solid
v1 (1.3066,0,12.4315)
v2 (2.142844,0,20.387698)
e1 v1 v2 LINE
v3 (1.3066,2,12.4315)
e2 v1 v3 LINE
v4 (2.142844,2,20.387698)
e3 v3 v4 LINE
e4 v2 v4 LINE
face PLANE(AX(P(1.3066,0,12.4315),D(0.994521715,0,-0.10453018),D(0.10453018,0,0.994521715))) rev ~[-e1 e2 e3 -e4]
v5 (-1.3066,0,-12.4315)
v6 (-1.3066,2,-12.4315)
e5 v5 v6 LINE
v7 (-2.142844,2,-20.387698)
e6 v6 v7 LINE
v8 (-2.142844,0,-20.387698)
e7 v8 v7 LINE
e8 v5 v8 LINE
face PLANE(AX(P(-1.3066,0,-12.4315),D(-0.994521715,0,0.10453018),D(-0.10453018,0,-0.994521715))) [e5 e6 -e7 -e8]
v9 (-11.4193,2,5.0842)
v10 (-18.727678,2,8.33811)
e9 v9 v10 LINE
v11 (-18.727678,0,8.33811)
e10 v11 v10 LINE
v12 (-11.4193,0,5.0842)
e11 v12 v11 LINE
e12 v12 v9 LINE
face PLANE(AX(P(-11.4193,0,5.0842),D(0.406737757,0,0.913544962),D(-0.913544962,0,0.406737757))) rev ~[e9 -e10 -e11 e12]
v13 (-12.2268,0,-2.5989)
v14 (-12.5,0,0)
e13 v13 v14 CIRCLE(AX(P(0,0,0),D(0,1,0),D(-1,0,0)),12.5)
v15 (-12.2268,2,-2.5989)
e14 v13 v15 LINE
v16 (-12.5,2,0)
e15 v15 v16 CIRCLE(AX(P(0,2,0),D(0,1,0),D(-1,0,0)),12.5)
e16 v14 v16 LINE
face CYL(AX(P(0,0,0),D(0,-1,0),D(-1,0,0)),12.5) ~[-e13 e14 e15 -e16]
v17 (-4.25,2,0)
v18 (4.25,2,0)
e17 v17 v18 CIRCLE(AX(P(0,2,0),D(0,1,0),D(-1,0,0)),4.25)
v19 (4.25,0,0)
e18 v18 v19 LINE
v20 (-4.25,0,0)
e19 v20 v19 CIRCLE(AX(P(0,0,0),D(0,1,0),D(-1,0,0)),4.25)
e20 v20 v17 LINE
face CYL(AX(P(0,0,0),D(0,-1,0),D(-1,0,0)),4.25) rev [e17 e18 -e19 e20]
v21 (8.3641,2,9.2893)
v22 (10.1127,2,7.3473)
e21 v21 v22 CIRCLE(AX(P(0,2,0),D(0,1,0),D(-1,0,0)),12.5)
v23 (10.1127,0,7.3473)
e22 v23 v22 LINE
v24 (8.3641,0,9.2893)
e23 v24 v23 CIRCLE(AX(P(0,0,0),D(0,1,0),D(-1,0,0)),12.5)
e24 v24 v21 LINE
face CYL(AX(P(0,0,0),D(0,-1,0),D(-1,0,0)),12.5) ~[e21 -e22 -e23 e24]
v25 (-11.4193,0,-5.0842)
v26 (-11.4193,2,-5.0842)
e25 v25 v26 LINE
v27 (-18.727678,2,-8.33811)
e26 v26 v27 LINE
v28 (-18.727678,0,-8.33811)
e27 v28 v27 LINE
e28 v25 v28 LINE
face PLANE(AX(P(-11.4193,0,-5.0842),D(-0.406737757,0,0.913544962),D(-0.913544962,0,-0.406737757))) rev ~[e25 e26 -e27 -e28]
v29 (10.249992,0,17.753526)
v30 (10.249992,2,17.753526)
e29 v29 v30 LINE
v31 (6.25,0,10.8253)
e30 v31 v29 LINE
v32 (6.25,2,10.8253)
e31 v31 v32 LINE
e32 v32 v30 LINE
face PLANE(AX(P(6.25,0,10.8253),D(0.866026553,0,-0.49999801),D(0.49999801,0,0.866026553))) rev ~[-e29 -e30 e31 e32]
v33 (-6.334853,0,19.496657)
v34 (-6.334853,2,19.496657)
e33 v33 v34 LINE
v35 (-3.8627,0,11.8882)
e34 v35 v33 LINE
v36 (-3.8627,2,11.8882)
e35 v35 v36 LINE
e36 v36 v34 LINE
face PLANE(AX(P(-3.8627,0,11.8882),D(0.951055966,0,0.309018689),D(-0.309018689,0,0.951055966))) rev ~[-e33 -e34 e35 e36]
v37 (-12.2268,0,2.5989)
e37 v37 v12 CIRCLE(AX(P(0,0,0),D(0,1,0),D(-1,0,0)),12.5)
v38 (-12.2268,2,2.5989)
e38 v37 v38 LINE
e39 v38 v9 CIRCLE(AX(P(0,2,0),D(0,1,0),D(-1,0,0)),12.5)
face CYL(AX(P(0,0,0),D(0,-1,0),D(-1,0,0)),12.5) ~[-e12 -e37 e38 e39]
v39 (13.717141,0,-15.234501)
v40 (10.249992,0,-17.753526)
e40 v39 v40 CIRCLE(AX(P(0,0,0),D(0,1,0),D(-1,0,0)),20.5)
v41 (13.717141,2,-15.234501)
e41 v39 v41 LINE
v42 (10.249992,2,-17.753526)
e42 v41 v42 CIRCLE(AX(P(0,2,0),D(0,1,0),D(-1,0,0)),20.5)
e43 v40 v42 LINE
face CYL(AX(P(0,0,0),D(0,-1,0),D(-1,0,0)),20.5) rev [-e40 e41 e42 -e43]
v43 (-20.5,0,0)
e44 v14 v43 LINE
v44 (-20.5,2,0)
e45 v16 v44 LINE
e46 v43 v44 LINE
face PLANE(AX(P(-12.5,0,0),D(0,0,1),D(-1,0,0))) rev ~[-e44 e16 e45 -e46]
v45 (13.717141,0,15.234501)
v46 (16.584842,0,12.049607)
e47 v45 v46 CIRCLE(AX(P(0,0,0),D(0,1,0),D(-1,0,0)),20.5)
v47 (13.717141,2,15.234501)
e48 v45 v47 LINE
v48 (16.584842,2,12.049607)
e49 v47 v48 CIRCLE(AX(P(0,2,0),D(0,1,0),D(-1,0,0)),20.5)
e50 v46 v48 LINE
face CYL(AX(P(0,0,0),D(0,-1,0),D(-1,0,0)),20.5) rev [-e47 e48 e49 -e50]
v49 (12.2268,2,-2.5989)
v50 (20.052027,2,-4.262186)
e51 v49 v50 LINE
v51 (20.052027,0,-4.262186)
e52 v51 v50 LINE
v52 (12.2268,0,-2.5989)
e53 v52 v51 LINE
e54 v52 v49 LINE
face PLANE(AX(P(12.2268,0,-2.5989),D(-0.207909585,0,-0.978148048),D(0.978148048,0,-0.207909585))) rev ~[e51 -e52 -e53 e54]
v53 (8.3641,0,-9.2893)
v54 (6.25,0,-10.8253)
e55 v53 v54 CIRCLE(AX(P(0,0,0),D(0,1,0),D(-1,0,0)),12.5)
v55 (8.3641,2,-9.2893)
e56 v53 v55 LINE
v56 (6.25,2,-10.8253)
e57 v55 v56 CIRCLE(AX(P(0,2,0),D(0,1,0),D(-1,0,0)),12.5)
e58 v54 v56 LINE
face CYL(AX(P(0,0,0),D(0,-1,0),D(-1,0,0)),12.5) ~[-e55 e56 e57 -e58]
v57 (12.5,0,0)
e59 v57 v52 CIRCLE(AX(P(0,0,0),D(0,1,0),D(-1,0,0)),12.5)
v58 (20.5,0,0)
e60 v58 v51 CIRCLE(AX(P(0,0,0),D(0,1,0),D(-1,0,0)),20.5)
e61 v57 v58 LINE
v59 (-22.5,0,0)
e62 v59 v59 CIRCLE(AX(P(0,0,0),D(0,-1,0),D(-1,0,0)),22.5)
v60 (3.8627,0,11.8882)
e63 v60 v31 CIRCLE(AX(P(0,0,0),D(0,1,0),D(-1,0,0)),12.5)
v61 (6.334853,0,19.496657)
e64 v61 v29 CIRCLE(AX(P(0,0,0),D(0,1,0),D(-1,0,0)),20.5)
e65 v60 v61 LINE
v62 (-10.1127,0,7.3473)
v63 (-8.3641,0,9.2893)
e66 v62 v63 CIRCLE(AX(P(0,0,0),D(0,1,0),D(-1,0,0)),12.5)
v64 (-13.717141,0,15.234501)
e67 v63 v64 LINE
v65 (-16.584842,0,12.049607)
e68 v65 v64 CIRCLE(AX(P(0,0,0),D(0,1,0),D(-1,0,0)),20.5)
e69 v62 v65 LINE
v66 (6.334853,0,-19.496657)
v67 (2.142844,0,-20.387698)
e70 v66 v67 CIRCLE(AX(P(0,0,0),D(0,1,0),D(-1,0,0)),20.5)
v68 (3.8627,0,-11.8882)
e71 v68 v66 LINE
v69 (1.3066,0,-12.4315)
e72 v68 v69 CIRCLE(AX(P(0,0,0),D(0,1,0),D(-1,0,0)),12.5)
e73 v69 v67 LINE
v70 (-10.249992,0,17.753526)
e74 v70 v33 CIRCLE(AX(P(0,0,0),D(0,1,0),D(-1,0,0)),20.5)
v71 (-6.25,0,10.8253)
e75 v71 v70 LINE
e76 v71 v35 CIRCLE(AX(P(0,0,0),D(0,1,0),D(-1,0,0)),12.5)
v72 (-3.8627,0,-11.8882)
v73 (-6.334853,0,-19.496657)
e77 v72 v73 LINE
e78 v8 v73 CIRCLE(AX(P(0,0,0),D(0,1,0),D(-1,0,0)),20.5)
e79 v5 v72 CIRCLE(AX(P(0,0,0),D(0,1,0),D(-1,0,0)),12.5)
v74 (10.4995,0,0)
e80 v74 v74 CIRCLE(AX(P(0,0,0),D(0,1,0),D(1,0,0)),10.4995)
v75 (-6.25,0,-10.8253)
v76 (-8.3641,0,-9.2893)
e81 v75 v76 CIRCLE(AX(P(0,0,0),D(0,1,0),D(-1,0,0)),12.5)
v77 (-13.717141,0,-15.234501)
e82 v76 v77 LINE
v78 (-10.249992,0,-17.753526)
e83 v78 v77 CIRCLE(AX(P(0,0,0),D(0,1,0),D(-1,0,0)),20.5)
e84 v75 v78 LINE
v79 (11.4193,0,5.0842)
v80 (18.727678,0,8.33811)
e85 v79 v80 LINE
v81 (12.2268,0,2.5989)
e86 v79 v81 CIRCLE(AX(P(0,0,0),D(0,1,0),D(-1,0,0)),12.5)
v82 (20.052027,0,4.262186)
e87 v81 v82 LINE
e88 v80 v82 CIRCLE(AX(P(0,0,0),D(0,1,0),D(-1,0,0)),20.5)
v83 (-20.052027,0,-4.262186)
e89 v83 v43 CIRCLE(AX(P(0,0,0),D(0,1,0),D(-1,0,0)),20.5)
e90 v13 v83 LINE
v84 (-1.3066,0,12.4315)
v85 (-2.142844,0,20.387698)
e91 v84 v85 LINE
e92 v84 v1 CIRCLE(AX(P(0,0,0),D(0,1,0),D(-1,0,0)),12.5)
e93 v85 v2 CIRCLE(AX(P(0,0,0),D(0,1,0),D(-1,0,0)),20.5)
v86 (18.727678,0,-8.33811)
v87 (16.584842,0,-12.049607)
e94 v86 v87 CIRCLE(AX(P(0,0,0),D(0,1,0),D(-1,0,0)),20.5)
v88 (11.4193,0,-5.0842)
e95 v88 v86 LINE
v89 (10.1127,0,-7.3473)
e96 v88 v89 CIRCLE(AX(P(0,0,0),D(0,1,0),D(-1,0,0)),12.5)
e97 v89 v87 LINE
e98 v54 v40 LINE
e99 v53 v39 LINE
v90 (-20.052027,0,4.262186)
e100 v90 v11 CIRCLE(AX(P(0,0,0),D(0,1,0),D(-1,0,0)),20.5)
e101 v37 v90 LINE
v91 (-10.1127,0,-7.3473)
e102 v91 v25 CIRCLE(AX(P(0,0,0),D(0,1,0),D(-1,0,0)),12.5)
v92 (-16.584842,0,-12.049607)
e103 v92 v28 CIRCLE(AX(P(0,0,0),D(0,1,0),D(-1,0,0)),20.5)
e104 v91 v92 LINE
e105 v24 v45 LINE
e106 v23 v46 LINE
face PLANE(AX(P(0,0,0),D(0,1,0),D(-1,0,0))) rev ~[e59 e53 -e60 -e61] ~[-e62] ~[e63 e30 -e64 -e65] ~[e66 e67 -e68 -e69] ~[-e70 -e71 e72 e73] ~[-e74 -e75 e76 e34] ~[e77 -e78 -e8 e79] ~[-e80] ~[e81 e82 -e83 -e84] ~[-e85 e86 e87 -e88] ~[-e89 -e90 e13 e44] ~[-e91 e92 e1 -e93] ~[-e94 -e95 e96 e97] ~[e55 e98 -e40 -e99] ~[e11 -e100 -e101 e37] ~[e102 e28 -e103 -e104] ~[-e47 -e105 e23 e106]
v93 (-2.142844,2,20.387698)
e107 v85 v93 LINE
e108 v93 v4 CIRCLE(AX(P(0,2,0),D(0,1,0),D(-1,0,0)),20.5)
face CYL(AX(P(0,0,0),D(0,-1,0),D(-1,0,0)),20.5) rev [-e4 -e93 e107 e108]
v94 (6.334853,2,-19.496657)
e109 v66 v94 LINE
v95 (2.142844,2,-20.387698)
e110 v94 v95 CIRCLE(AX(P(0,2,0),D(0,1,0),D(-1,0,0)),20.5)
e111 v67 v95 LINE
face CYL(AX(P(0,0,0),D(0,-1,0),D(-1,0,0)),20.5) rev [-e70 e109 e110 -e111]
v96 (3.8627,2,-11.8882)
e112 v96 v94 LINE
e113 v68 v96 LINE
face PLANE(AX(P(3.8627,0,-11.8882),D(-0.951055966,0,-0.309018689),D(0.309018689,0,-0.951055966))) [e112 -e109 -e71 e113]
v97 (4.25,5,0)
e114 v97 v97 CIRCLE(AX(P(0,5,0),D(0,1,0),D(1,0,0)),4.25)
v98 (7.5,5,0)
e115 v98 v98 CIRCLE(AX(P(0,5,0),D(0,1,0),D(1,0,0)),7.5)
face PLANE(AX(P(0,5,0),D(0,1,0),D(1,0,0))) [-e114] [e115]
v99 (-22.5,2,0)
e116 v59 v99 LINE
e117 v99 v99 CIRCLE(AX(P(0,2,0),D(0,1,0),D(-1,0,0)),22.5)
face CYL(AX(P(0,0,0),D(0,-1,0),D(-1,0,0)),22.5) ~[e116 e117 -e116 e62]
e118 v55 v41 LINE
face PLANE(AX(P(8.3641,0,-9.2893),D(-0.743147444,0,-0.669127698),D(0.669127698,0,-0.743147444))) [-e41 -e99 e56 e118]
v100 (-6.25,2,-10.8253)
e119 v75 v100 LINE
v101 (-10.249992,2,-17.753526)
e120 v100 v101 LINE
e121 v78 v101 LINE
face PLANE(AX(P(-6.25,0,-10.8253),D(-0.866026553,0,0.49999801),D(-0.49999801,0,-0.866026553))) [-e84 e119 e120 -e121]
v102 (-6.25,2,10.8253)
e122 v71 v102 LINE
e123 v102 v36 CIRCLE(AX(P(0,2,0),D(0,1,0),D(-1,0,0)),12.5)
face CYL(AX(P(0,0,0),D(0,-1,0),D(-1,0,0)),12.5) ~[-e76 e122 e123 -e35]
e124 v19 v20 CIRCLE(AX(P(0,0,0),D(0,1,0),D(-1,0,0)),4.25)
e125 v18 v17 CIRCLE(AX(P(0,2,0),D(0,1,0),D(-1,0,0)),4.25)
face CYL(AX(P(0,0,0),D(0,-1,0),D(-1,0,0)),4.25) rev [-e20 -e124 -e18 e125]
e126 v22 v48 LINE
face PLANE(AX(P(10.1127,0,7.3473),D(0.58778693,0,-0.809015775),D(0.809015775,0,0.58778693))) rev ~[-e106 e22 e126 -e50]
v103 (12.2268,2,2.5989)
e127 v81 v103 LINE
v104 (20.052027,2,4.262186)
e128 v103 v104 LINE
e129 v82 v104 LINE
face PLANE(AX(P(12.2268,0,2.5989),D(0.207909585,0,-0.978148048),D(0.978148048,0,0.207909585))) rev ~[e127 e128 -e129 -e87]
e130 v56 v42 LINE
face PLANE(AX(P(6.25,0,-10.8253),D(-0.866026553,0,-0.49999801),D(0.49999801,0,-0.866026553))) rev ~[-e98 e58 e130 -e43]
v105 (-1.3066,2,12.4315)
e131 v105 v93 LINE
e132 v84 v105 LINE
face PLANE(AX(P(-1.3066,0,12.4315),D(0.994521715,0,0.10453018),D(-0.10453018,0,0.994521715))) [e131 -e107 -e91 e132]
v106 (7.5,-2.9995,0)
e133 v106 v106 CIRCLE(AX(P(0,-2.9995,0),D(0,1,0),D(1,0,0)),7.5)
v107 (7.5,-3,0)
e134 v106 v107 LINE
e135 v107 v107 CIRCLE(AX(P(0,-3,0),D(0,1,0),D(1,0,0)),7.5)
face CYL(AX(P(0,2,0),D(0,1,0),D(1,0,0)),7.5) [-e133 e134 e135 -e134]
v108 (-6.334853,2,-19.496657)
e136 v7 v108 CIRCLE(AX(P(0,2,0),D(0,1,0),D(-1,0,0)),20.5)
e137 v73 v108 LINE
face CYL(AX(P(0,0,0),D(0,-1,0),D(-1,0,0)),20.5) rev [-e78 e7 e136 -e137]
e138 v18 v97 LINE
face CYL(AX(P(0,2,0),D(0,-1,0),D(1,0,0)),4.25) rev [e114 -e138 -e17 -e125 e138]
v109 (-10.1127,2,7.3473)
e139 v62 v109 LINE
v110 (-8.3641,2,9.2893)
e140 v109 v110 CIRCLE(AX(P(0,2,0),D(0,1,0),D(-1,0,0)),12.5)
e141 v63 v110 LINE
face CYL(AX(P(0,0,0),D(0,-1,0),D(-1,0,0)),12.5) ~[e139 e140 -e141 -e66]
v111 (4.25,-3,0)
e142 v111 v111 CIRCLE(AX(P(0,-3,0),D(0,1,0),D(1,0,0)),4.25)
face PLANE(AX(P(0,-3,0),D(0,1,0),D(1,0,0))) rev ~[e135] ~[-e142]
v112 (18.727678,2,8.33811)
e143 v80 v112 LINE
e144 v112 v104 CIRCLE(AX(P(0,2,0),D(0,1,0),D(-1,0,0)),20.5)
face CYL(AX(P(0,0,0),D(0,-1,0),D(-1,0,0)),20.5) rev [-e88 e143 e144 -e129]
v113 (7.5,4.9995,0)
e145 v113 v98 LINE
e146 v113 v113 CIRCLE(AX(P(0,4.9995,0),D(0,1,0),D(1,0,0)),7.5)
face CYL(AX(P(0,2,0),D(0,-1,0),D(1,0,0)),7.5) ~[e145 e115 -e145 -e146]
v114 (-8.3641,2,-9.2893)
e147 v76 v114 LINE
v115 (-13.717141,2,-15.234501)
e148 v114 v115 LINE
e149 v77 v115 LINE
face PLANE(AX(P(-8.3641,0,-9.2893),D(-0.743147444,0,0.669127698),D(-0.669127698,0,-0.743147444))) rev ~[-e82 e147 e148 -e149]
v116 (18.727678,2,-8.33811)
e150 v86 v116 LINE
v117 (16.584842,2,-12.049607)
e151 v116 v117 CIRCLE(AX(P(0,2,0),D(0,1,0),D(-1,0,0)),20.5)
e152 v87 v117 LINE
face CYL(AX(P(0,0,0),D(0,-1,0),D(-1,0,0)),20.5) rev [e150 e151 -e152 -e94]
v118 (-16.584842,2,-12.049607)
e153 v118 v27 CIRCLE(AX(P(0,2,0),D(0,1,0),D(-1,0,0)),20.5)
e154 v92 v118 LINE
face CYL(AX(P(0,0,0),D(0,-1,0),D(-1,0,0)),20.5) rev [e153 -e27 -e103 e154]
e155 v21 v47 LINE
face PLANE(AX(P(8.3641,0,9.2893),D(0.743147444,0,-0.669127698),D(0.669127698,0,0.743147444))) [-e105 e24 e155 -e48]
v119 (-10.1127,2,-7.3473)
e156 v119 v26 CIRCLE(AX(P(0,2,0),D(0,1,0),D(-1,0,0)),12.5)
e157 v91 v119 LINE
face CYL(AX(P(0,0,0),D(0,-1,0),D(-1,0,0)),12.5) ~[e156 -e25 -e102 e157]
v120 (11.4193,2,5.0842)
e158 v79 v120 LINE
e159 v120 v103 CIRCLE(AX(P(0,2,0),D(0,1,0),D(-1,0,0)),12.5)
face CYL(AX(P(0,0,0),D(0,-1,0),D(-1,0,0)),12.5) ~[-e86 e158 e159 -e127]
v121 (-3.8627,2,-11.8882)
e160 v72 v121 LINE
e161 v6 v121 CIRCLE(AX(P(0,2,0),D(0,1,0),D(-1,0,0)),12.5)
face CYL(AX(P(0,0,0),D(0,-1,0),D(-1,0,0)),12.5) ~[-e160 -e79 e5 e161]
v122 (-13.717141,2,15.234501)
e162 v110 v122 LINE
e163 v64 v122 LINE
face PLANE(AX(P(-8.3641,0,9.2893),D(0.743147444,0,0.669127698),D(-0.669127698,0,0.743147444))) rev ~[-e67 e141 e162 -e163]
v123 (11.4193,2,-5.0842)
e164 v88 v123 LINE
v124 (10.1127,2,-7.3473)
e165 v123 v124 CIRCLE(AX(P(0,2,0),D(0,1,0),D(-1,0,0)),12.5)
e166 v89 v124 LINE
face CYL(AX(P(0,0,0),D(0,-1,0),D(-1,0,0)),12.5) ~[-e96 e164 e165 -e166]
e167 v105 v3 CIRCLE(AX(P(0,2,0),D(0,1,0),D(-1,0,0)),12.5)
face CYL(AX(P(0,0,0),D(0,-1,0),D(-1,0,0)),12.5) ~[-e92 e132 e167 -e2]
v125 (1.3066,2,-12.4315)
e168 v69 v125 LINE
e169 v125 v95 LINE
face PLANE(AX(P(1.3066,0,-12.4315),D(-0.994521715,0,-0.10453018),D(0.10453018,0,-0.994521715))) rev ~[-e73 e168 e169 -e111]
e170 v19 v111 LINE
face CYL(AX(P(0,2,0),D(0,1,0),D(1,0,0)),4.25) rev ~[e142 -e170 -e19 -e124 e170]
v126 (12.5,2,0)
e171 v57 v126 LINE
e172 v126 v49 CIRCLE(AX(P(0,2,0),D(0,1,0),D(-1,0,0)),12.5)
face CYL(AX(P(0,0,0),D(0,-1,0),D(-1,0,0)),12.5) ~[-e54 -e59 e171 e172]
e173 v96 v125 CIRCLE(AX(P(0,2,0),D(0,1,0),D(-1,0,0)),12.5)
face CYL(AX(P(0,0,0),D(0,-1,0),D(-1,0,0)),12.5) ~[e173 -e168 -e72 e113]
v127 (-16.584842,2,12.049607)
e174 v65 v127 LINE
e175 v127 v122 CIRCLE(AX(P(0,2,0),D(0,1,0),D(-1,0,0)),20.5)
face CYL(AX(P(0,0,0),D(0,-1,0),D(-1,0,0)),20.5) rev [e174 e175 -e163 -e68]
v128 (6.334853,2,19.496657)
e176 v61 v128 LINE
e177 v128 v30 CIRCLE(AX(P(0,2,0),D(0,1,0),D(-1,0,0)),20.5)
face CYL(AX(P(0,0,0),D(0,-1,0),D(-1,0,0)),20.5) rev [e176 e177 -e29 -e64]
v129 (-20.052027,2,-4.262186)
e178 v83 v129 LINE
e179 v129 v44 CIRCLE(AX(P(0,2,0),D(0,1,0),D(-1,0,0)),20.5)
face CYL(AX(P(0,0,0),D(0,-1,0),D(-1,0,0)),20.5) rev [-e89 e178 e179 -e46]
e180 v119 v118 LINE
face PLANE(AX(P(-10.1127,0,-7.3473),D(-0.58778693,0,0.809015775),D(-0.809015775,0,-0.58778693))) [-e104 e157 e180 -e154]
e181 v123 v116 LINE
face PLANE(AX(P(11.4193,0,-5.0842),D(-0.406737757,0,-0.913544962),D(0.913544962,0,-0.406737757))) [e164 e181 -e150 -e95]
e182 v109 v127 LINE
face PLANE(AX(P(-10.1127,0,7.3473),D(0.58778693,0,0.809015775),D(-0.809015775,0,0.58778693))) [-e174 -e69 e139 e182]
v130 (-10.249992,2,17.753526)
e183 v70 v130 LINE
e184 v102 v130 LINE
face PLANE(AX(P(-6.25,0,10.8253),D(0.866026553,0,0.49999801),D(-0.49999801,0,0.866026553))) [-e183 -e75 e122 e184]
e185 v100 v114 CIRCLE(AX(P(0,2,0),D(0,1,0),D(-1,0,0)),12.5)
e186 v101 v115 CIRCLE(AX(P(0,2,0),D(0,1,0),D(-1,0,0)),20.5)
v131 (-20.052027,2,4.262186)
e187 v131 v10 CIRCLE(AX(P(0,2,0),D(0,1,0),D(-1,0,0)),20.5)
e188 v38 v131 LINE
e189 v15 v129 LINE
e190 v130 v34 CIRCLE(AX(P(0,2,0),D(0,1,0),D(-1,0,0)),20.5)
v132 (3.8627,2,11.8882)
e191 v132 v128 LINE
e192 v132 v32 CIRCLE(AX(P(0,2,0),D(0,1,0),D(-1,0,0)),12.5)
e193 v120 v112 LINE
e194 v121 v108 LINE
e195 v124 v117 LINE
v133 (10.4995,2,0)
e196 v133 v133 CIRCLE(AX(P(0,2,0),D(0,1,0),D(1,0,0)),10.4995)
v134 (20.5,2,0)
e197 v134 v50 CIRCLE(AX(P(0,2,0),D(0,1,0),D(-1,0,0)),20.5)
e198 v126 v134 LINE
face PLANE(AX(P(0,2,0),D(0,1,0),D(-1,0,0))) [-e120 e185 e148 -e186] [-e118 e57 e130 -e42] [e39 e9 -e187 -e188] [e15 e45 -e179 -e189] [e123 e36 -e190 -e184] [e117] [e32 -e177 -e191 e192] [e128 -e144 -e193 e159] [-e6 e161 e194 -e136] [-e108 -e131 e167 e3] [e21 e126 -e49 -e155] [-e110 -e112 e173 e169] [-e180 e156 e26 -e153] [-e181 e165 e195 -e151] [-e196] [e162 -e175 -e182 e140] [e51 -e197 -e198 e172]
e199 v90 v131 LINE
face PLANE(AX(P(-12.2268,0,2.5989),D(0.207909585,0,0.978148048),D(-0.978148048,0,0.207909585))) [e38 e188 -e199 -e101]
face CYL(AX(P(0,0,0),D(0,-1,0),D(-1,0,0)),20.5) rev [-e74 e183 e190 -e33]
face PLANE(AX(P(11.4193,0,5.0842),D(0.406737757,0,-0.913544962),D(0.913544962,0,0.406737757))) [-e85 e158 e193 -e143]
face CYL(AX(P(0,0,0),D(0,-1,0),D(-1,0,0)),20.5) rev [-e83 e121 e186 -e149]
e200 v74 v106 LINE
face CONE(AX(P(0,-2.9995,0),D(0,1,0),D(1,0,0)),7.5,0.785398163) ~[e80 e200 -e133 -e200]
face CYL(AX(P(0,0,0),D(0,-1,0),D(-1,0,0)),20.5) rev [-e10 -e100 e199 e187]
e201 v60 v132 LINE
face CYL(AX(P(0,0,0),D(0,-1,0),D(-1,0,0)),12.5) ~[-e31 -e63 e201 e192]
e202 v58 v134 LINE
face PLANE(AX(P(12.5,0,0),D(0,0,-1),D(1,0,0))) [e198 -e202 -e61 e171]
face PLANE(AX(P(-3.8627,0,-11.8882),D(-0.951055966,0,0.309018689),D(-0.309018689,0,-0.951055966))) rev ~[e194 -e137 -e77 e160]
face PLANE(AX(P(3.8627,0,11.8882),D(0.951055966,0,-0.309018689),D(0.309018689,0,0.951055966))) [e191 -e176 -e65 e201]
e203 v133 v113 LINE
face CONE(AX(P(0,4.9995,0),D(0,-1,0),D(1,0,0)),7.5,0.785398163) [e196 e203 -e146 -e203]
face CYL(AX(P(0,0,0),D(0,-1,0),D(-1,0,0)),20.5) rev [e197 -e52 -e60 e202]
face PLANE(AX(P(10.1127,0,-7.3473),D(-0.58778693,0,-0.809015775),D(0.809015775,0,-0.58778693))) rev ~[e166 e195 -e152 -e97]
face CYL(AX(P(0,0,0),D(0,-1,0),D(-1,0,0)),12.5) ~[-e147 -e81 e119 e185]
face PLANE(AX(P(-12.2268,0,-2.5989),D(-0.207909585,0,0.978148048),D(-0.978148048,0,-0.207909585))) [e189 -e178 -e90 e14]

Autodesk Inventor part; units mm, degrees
ref_plane "YZ Plane" through (0, 0, 0) normal (1, 0, 0) x (0, 1, 0)
ref_plane "XZ Plane" through (0, 0, 0) normal (0, 1, 0) x (-1, 0, 0)
ref_plane "XY Plane" through (0, 0, 0) normal (0, 0, 1) x (1, 0, 0)
sketch "Sketch1" plane through (0, 0, 0) normal (0, 1, 0) x (-1, 0, 0)
  circle A0 centre (0, 0) radius 12.5
  circle A1 centre (0, 0) radius 22.5
  line L0 (12.5, 0) -> (22.5, 0)
  line L1 (12.2268, 2.5989) -> (22.0083, 4.678)
  line L2 (11.4193, 5.0842) -> (20.5548, 9.1516)
  line L3 (10.1127, 7.3473) -> (18.2029, 13.2252)
  line L4 (8.3641, 9.2893) -> (15.0554, 16.7208)
  line L5 (6.25, 10.8253) -> (11.25, 19.4856)
  line L6 (3.8627, 11.8882) -> (6.9529, 21.3988)
  line L7 (1.3066, 12.4315) -> (2.3519, 22.3767)
  line L8 (-1.3066, 12.4315) -> (-2.3519, 22.3767)
  line L9 (-3.8627, 11.8882) -> (-6.9529, 21.3988)
  line L10 (-6.25, 10.8253) -> (-11.25, 19.4856)
  line L11 (-8.3641, 9.2893) -> (-15.0554, 16.7208)
  line L12 (-10.1127, 7.3473) -> (-18.2029, 13.2252)
  line L13 (-11.4193, 5.0842) -> (-20.5548, 9.1516)
  line L14 (-12.2268, 2.5989) -> (-22.0083, 4.678)
  line L15 (-12.5, 0) -> (-22.5, 0)
  line L16 (-12.2268, -2.5989) -> (-22.0083, -4.678)
  line L17 (-11.4193, -5.0842) -> (-20.5548, -9.1516)
  line L18 (-10.1127, -7.3473) -> (-18.2029, -13.2252)
  line L19 (-8.3641, -9.2893) -> (-15.0554, -16.7208)
  line L20 (-6.25, -10.8253) -> (-11.25, -19.4856)
  line L21 (-3.8627, -11.8882) -> (-6.9529, -21.3988)
  line L22 (-1.3066, -12.4315) -> (-2.3519, -22.3767)
  line L23 (1.3066, -12.4315) -> (2.3519, -22.3767)
  line L24 (3.8627, -11.8882) -> (6.9529, -21.3988)
  line L25 (6.25, -10.8253) -> (11.25, -19.4856)
  line L26 (8.3641, -9.2893) -> (15.0554, -16.7208)
  line L27 (10.1127, -7.3473) -> (18.2029, -13.2252)
  line L28 (11.4193, -5.0842) -> (20.5548, -9.1516)
  line L29 (12.2268, -2.5989) -> (22.0083, -4.678)
  circle A2 centre (0, 0) radius 4.25
  circle A3 centre (0, 0) radius 20.5
  point P0 (18.7277, 8.3381)
  point P1 (20.052, 4.2622)
  point P2 (20.5, 0)
  point P3 (20.052, -4.2622)
  point P4 (18.7277, -8.3381)
  point P5 (16.5848, -12.0496)
  point P6 (13.7172, -15.2345)
  point P7 (10.25, -17.7535)
  point P8 (6.3348, -19.4967)
  point P9 (2.1428, -20.3877)
  point P10 (-2.1428, -20.3877)
  point P11 (-6.3348, -19.4967)
  point P12 (-10.25, -17.7535)
  point P13 (-13.7172, -15.2345)
  point P14 (-16.5848, -12.0496)
  point P15 (-18.7277, -8.3381)
  point P16 (-20.052, -4.2622)
  point P17 (-20.5, 0)
  point P18 (-20.052, 4.2622)
  point P19 (-18.7277, 8.3381)
  point P20 (-16.5848, 12.0496)
  point P21 (-13.7172, 15.2345)
  point P22 (-10.25, 17.7535)
  point P23 (-6.3348, 19.4967)
  point P24 (-2.1428, 20.3877)
  point P25 (2.1428, 20.3877)
  point P26 (6.3348, 19.4967)
  point P27 (10.25, 17.7535)
  point P28 (13.7172, 15.2345)
  point P29 (16.5848, 12.0496)
  dimension "d0" = 45
  dimension "d1" = 10
  dimension "d17" = 2
  dimension "d6" = 360
  dimension "d11" = 8.5
extrude "Extrusion1" add sketch "Sketch1" along normal blind 2 contours A0 | A0 L1 A3 L0 | L29 A3 L28 A0 | A3 L1 A1 L0 | L0 A1 L29 A3 | A0 L3 A3 L2 | A3 L2 A1 L1 | L29 A1 L28 A3 | A3 L3 A1 L2 | L27 A3 L26 A0 | L28 A1 L27 A3 | A0 L5 A3 L4 | A3 L4 A1 L3 | L27 A1 L26 A3 | A3 L5 A1 L4 | L25 A3 L24 A0 | L26 A1 L25 A3 | A0 L7 A3 L6 | A3 L6 A1 L5 | L25 A1 L24 A3 | A3 L7 A1 L6 | L23 A3 L22 A0 | L24 A1 L23 A3 | A0 L9 A3 L8 | A3 L8 A1 L7 | L23 A1 L22 A3 | A3 L9 A1 L8 | L21 A3 L20 A0 | L22 A1 L21 A3 | A0 L11 A3 L10 | A3 L10 A1 L9 | L21 A1 L20 A3 | A3 L11 A1 L10 | L19 A3 L18 A0 | L20 A1 L19 A3 | A0 L13 A3 L12 | A3 L12 A1 L11 | L19 A1 L18 A3 | A3 L13 A1 L12 | L17 A3 L16 A0 | L18 A1 L17 A3 | A0 L15 A3 L14 | A3 L14 A1 L13 | L17 A1 L16 A3 | A3 L15 A1 L14 | L16 A1 L15 A3
sketch "Sketch3" plane through (0, 2, 0) normal (0, 1, 0) x (1, 0, 0)
  circle A0 centre (0, 0) radius 4.25
  circle A1 centre (0, 0) radius 7.5
  circle A2 centre (0, 0) radius 4.25 projected
  dimension "d19" = 15
extrude "Extrusion3" add sketch "Sketch3" along normal blind 3 and the other way blind 5
chamfer "Chamfer2" distance 3 angle 45 2 edges at (-7.5, 2, 0) (-7.5, 0, 0)
properties part number "rotary encoder"
